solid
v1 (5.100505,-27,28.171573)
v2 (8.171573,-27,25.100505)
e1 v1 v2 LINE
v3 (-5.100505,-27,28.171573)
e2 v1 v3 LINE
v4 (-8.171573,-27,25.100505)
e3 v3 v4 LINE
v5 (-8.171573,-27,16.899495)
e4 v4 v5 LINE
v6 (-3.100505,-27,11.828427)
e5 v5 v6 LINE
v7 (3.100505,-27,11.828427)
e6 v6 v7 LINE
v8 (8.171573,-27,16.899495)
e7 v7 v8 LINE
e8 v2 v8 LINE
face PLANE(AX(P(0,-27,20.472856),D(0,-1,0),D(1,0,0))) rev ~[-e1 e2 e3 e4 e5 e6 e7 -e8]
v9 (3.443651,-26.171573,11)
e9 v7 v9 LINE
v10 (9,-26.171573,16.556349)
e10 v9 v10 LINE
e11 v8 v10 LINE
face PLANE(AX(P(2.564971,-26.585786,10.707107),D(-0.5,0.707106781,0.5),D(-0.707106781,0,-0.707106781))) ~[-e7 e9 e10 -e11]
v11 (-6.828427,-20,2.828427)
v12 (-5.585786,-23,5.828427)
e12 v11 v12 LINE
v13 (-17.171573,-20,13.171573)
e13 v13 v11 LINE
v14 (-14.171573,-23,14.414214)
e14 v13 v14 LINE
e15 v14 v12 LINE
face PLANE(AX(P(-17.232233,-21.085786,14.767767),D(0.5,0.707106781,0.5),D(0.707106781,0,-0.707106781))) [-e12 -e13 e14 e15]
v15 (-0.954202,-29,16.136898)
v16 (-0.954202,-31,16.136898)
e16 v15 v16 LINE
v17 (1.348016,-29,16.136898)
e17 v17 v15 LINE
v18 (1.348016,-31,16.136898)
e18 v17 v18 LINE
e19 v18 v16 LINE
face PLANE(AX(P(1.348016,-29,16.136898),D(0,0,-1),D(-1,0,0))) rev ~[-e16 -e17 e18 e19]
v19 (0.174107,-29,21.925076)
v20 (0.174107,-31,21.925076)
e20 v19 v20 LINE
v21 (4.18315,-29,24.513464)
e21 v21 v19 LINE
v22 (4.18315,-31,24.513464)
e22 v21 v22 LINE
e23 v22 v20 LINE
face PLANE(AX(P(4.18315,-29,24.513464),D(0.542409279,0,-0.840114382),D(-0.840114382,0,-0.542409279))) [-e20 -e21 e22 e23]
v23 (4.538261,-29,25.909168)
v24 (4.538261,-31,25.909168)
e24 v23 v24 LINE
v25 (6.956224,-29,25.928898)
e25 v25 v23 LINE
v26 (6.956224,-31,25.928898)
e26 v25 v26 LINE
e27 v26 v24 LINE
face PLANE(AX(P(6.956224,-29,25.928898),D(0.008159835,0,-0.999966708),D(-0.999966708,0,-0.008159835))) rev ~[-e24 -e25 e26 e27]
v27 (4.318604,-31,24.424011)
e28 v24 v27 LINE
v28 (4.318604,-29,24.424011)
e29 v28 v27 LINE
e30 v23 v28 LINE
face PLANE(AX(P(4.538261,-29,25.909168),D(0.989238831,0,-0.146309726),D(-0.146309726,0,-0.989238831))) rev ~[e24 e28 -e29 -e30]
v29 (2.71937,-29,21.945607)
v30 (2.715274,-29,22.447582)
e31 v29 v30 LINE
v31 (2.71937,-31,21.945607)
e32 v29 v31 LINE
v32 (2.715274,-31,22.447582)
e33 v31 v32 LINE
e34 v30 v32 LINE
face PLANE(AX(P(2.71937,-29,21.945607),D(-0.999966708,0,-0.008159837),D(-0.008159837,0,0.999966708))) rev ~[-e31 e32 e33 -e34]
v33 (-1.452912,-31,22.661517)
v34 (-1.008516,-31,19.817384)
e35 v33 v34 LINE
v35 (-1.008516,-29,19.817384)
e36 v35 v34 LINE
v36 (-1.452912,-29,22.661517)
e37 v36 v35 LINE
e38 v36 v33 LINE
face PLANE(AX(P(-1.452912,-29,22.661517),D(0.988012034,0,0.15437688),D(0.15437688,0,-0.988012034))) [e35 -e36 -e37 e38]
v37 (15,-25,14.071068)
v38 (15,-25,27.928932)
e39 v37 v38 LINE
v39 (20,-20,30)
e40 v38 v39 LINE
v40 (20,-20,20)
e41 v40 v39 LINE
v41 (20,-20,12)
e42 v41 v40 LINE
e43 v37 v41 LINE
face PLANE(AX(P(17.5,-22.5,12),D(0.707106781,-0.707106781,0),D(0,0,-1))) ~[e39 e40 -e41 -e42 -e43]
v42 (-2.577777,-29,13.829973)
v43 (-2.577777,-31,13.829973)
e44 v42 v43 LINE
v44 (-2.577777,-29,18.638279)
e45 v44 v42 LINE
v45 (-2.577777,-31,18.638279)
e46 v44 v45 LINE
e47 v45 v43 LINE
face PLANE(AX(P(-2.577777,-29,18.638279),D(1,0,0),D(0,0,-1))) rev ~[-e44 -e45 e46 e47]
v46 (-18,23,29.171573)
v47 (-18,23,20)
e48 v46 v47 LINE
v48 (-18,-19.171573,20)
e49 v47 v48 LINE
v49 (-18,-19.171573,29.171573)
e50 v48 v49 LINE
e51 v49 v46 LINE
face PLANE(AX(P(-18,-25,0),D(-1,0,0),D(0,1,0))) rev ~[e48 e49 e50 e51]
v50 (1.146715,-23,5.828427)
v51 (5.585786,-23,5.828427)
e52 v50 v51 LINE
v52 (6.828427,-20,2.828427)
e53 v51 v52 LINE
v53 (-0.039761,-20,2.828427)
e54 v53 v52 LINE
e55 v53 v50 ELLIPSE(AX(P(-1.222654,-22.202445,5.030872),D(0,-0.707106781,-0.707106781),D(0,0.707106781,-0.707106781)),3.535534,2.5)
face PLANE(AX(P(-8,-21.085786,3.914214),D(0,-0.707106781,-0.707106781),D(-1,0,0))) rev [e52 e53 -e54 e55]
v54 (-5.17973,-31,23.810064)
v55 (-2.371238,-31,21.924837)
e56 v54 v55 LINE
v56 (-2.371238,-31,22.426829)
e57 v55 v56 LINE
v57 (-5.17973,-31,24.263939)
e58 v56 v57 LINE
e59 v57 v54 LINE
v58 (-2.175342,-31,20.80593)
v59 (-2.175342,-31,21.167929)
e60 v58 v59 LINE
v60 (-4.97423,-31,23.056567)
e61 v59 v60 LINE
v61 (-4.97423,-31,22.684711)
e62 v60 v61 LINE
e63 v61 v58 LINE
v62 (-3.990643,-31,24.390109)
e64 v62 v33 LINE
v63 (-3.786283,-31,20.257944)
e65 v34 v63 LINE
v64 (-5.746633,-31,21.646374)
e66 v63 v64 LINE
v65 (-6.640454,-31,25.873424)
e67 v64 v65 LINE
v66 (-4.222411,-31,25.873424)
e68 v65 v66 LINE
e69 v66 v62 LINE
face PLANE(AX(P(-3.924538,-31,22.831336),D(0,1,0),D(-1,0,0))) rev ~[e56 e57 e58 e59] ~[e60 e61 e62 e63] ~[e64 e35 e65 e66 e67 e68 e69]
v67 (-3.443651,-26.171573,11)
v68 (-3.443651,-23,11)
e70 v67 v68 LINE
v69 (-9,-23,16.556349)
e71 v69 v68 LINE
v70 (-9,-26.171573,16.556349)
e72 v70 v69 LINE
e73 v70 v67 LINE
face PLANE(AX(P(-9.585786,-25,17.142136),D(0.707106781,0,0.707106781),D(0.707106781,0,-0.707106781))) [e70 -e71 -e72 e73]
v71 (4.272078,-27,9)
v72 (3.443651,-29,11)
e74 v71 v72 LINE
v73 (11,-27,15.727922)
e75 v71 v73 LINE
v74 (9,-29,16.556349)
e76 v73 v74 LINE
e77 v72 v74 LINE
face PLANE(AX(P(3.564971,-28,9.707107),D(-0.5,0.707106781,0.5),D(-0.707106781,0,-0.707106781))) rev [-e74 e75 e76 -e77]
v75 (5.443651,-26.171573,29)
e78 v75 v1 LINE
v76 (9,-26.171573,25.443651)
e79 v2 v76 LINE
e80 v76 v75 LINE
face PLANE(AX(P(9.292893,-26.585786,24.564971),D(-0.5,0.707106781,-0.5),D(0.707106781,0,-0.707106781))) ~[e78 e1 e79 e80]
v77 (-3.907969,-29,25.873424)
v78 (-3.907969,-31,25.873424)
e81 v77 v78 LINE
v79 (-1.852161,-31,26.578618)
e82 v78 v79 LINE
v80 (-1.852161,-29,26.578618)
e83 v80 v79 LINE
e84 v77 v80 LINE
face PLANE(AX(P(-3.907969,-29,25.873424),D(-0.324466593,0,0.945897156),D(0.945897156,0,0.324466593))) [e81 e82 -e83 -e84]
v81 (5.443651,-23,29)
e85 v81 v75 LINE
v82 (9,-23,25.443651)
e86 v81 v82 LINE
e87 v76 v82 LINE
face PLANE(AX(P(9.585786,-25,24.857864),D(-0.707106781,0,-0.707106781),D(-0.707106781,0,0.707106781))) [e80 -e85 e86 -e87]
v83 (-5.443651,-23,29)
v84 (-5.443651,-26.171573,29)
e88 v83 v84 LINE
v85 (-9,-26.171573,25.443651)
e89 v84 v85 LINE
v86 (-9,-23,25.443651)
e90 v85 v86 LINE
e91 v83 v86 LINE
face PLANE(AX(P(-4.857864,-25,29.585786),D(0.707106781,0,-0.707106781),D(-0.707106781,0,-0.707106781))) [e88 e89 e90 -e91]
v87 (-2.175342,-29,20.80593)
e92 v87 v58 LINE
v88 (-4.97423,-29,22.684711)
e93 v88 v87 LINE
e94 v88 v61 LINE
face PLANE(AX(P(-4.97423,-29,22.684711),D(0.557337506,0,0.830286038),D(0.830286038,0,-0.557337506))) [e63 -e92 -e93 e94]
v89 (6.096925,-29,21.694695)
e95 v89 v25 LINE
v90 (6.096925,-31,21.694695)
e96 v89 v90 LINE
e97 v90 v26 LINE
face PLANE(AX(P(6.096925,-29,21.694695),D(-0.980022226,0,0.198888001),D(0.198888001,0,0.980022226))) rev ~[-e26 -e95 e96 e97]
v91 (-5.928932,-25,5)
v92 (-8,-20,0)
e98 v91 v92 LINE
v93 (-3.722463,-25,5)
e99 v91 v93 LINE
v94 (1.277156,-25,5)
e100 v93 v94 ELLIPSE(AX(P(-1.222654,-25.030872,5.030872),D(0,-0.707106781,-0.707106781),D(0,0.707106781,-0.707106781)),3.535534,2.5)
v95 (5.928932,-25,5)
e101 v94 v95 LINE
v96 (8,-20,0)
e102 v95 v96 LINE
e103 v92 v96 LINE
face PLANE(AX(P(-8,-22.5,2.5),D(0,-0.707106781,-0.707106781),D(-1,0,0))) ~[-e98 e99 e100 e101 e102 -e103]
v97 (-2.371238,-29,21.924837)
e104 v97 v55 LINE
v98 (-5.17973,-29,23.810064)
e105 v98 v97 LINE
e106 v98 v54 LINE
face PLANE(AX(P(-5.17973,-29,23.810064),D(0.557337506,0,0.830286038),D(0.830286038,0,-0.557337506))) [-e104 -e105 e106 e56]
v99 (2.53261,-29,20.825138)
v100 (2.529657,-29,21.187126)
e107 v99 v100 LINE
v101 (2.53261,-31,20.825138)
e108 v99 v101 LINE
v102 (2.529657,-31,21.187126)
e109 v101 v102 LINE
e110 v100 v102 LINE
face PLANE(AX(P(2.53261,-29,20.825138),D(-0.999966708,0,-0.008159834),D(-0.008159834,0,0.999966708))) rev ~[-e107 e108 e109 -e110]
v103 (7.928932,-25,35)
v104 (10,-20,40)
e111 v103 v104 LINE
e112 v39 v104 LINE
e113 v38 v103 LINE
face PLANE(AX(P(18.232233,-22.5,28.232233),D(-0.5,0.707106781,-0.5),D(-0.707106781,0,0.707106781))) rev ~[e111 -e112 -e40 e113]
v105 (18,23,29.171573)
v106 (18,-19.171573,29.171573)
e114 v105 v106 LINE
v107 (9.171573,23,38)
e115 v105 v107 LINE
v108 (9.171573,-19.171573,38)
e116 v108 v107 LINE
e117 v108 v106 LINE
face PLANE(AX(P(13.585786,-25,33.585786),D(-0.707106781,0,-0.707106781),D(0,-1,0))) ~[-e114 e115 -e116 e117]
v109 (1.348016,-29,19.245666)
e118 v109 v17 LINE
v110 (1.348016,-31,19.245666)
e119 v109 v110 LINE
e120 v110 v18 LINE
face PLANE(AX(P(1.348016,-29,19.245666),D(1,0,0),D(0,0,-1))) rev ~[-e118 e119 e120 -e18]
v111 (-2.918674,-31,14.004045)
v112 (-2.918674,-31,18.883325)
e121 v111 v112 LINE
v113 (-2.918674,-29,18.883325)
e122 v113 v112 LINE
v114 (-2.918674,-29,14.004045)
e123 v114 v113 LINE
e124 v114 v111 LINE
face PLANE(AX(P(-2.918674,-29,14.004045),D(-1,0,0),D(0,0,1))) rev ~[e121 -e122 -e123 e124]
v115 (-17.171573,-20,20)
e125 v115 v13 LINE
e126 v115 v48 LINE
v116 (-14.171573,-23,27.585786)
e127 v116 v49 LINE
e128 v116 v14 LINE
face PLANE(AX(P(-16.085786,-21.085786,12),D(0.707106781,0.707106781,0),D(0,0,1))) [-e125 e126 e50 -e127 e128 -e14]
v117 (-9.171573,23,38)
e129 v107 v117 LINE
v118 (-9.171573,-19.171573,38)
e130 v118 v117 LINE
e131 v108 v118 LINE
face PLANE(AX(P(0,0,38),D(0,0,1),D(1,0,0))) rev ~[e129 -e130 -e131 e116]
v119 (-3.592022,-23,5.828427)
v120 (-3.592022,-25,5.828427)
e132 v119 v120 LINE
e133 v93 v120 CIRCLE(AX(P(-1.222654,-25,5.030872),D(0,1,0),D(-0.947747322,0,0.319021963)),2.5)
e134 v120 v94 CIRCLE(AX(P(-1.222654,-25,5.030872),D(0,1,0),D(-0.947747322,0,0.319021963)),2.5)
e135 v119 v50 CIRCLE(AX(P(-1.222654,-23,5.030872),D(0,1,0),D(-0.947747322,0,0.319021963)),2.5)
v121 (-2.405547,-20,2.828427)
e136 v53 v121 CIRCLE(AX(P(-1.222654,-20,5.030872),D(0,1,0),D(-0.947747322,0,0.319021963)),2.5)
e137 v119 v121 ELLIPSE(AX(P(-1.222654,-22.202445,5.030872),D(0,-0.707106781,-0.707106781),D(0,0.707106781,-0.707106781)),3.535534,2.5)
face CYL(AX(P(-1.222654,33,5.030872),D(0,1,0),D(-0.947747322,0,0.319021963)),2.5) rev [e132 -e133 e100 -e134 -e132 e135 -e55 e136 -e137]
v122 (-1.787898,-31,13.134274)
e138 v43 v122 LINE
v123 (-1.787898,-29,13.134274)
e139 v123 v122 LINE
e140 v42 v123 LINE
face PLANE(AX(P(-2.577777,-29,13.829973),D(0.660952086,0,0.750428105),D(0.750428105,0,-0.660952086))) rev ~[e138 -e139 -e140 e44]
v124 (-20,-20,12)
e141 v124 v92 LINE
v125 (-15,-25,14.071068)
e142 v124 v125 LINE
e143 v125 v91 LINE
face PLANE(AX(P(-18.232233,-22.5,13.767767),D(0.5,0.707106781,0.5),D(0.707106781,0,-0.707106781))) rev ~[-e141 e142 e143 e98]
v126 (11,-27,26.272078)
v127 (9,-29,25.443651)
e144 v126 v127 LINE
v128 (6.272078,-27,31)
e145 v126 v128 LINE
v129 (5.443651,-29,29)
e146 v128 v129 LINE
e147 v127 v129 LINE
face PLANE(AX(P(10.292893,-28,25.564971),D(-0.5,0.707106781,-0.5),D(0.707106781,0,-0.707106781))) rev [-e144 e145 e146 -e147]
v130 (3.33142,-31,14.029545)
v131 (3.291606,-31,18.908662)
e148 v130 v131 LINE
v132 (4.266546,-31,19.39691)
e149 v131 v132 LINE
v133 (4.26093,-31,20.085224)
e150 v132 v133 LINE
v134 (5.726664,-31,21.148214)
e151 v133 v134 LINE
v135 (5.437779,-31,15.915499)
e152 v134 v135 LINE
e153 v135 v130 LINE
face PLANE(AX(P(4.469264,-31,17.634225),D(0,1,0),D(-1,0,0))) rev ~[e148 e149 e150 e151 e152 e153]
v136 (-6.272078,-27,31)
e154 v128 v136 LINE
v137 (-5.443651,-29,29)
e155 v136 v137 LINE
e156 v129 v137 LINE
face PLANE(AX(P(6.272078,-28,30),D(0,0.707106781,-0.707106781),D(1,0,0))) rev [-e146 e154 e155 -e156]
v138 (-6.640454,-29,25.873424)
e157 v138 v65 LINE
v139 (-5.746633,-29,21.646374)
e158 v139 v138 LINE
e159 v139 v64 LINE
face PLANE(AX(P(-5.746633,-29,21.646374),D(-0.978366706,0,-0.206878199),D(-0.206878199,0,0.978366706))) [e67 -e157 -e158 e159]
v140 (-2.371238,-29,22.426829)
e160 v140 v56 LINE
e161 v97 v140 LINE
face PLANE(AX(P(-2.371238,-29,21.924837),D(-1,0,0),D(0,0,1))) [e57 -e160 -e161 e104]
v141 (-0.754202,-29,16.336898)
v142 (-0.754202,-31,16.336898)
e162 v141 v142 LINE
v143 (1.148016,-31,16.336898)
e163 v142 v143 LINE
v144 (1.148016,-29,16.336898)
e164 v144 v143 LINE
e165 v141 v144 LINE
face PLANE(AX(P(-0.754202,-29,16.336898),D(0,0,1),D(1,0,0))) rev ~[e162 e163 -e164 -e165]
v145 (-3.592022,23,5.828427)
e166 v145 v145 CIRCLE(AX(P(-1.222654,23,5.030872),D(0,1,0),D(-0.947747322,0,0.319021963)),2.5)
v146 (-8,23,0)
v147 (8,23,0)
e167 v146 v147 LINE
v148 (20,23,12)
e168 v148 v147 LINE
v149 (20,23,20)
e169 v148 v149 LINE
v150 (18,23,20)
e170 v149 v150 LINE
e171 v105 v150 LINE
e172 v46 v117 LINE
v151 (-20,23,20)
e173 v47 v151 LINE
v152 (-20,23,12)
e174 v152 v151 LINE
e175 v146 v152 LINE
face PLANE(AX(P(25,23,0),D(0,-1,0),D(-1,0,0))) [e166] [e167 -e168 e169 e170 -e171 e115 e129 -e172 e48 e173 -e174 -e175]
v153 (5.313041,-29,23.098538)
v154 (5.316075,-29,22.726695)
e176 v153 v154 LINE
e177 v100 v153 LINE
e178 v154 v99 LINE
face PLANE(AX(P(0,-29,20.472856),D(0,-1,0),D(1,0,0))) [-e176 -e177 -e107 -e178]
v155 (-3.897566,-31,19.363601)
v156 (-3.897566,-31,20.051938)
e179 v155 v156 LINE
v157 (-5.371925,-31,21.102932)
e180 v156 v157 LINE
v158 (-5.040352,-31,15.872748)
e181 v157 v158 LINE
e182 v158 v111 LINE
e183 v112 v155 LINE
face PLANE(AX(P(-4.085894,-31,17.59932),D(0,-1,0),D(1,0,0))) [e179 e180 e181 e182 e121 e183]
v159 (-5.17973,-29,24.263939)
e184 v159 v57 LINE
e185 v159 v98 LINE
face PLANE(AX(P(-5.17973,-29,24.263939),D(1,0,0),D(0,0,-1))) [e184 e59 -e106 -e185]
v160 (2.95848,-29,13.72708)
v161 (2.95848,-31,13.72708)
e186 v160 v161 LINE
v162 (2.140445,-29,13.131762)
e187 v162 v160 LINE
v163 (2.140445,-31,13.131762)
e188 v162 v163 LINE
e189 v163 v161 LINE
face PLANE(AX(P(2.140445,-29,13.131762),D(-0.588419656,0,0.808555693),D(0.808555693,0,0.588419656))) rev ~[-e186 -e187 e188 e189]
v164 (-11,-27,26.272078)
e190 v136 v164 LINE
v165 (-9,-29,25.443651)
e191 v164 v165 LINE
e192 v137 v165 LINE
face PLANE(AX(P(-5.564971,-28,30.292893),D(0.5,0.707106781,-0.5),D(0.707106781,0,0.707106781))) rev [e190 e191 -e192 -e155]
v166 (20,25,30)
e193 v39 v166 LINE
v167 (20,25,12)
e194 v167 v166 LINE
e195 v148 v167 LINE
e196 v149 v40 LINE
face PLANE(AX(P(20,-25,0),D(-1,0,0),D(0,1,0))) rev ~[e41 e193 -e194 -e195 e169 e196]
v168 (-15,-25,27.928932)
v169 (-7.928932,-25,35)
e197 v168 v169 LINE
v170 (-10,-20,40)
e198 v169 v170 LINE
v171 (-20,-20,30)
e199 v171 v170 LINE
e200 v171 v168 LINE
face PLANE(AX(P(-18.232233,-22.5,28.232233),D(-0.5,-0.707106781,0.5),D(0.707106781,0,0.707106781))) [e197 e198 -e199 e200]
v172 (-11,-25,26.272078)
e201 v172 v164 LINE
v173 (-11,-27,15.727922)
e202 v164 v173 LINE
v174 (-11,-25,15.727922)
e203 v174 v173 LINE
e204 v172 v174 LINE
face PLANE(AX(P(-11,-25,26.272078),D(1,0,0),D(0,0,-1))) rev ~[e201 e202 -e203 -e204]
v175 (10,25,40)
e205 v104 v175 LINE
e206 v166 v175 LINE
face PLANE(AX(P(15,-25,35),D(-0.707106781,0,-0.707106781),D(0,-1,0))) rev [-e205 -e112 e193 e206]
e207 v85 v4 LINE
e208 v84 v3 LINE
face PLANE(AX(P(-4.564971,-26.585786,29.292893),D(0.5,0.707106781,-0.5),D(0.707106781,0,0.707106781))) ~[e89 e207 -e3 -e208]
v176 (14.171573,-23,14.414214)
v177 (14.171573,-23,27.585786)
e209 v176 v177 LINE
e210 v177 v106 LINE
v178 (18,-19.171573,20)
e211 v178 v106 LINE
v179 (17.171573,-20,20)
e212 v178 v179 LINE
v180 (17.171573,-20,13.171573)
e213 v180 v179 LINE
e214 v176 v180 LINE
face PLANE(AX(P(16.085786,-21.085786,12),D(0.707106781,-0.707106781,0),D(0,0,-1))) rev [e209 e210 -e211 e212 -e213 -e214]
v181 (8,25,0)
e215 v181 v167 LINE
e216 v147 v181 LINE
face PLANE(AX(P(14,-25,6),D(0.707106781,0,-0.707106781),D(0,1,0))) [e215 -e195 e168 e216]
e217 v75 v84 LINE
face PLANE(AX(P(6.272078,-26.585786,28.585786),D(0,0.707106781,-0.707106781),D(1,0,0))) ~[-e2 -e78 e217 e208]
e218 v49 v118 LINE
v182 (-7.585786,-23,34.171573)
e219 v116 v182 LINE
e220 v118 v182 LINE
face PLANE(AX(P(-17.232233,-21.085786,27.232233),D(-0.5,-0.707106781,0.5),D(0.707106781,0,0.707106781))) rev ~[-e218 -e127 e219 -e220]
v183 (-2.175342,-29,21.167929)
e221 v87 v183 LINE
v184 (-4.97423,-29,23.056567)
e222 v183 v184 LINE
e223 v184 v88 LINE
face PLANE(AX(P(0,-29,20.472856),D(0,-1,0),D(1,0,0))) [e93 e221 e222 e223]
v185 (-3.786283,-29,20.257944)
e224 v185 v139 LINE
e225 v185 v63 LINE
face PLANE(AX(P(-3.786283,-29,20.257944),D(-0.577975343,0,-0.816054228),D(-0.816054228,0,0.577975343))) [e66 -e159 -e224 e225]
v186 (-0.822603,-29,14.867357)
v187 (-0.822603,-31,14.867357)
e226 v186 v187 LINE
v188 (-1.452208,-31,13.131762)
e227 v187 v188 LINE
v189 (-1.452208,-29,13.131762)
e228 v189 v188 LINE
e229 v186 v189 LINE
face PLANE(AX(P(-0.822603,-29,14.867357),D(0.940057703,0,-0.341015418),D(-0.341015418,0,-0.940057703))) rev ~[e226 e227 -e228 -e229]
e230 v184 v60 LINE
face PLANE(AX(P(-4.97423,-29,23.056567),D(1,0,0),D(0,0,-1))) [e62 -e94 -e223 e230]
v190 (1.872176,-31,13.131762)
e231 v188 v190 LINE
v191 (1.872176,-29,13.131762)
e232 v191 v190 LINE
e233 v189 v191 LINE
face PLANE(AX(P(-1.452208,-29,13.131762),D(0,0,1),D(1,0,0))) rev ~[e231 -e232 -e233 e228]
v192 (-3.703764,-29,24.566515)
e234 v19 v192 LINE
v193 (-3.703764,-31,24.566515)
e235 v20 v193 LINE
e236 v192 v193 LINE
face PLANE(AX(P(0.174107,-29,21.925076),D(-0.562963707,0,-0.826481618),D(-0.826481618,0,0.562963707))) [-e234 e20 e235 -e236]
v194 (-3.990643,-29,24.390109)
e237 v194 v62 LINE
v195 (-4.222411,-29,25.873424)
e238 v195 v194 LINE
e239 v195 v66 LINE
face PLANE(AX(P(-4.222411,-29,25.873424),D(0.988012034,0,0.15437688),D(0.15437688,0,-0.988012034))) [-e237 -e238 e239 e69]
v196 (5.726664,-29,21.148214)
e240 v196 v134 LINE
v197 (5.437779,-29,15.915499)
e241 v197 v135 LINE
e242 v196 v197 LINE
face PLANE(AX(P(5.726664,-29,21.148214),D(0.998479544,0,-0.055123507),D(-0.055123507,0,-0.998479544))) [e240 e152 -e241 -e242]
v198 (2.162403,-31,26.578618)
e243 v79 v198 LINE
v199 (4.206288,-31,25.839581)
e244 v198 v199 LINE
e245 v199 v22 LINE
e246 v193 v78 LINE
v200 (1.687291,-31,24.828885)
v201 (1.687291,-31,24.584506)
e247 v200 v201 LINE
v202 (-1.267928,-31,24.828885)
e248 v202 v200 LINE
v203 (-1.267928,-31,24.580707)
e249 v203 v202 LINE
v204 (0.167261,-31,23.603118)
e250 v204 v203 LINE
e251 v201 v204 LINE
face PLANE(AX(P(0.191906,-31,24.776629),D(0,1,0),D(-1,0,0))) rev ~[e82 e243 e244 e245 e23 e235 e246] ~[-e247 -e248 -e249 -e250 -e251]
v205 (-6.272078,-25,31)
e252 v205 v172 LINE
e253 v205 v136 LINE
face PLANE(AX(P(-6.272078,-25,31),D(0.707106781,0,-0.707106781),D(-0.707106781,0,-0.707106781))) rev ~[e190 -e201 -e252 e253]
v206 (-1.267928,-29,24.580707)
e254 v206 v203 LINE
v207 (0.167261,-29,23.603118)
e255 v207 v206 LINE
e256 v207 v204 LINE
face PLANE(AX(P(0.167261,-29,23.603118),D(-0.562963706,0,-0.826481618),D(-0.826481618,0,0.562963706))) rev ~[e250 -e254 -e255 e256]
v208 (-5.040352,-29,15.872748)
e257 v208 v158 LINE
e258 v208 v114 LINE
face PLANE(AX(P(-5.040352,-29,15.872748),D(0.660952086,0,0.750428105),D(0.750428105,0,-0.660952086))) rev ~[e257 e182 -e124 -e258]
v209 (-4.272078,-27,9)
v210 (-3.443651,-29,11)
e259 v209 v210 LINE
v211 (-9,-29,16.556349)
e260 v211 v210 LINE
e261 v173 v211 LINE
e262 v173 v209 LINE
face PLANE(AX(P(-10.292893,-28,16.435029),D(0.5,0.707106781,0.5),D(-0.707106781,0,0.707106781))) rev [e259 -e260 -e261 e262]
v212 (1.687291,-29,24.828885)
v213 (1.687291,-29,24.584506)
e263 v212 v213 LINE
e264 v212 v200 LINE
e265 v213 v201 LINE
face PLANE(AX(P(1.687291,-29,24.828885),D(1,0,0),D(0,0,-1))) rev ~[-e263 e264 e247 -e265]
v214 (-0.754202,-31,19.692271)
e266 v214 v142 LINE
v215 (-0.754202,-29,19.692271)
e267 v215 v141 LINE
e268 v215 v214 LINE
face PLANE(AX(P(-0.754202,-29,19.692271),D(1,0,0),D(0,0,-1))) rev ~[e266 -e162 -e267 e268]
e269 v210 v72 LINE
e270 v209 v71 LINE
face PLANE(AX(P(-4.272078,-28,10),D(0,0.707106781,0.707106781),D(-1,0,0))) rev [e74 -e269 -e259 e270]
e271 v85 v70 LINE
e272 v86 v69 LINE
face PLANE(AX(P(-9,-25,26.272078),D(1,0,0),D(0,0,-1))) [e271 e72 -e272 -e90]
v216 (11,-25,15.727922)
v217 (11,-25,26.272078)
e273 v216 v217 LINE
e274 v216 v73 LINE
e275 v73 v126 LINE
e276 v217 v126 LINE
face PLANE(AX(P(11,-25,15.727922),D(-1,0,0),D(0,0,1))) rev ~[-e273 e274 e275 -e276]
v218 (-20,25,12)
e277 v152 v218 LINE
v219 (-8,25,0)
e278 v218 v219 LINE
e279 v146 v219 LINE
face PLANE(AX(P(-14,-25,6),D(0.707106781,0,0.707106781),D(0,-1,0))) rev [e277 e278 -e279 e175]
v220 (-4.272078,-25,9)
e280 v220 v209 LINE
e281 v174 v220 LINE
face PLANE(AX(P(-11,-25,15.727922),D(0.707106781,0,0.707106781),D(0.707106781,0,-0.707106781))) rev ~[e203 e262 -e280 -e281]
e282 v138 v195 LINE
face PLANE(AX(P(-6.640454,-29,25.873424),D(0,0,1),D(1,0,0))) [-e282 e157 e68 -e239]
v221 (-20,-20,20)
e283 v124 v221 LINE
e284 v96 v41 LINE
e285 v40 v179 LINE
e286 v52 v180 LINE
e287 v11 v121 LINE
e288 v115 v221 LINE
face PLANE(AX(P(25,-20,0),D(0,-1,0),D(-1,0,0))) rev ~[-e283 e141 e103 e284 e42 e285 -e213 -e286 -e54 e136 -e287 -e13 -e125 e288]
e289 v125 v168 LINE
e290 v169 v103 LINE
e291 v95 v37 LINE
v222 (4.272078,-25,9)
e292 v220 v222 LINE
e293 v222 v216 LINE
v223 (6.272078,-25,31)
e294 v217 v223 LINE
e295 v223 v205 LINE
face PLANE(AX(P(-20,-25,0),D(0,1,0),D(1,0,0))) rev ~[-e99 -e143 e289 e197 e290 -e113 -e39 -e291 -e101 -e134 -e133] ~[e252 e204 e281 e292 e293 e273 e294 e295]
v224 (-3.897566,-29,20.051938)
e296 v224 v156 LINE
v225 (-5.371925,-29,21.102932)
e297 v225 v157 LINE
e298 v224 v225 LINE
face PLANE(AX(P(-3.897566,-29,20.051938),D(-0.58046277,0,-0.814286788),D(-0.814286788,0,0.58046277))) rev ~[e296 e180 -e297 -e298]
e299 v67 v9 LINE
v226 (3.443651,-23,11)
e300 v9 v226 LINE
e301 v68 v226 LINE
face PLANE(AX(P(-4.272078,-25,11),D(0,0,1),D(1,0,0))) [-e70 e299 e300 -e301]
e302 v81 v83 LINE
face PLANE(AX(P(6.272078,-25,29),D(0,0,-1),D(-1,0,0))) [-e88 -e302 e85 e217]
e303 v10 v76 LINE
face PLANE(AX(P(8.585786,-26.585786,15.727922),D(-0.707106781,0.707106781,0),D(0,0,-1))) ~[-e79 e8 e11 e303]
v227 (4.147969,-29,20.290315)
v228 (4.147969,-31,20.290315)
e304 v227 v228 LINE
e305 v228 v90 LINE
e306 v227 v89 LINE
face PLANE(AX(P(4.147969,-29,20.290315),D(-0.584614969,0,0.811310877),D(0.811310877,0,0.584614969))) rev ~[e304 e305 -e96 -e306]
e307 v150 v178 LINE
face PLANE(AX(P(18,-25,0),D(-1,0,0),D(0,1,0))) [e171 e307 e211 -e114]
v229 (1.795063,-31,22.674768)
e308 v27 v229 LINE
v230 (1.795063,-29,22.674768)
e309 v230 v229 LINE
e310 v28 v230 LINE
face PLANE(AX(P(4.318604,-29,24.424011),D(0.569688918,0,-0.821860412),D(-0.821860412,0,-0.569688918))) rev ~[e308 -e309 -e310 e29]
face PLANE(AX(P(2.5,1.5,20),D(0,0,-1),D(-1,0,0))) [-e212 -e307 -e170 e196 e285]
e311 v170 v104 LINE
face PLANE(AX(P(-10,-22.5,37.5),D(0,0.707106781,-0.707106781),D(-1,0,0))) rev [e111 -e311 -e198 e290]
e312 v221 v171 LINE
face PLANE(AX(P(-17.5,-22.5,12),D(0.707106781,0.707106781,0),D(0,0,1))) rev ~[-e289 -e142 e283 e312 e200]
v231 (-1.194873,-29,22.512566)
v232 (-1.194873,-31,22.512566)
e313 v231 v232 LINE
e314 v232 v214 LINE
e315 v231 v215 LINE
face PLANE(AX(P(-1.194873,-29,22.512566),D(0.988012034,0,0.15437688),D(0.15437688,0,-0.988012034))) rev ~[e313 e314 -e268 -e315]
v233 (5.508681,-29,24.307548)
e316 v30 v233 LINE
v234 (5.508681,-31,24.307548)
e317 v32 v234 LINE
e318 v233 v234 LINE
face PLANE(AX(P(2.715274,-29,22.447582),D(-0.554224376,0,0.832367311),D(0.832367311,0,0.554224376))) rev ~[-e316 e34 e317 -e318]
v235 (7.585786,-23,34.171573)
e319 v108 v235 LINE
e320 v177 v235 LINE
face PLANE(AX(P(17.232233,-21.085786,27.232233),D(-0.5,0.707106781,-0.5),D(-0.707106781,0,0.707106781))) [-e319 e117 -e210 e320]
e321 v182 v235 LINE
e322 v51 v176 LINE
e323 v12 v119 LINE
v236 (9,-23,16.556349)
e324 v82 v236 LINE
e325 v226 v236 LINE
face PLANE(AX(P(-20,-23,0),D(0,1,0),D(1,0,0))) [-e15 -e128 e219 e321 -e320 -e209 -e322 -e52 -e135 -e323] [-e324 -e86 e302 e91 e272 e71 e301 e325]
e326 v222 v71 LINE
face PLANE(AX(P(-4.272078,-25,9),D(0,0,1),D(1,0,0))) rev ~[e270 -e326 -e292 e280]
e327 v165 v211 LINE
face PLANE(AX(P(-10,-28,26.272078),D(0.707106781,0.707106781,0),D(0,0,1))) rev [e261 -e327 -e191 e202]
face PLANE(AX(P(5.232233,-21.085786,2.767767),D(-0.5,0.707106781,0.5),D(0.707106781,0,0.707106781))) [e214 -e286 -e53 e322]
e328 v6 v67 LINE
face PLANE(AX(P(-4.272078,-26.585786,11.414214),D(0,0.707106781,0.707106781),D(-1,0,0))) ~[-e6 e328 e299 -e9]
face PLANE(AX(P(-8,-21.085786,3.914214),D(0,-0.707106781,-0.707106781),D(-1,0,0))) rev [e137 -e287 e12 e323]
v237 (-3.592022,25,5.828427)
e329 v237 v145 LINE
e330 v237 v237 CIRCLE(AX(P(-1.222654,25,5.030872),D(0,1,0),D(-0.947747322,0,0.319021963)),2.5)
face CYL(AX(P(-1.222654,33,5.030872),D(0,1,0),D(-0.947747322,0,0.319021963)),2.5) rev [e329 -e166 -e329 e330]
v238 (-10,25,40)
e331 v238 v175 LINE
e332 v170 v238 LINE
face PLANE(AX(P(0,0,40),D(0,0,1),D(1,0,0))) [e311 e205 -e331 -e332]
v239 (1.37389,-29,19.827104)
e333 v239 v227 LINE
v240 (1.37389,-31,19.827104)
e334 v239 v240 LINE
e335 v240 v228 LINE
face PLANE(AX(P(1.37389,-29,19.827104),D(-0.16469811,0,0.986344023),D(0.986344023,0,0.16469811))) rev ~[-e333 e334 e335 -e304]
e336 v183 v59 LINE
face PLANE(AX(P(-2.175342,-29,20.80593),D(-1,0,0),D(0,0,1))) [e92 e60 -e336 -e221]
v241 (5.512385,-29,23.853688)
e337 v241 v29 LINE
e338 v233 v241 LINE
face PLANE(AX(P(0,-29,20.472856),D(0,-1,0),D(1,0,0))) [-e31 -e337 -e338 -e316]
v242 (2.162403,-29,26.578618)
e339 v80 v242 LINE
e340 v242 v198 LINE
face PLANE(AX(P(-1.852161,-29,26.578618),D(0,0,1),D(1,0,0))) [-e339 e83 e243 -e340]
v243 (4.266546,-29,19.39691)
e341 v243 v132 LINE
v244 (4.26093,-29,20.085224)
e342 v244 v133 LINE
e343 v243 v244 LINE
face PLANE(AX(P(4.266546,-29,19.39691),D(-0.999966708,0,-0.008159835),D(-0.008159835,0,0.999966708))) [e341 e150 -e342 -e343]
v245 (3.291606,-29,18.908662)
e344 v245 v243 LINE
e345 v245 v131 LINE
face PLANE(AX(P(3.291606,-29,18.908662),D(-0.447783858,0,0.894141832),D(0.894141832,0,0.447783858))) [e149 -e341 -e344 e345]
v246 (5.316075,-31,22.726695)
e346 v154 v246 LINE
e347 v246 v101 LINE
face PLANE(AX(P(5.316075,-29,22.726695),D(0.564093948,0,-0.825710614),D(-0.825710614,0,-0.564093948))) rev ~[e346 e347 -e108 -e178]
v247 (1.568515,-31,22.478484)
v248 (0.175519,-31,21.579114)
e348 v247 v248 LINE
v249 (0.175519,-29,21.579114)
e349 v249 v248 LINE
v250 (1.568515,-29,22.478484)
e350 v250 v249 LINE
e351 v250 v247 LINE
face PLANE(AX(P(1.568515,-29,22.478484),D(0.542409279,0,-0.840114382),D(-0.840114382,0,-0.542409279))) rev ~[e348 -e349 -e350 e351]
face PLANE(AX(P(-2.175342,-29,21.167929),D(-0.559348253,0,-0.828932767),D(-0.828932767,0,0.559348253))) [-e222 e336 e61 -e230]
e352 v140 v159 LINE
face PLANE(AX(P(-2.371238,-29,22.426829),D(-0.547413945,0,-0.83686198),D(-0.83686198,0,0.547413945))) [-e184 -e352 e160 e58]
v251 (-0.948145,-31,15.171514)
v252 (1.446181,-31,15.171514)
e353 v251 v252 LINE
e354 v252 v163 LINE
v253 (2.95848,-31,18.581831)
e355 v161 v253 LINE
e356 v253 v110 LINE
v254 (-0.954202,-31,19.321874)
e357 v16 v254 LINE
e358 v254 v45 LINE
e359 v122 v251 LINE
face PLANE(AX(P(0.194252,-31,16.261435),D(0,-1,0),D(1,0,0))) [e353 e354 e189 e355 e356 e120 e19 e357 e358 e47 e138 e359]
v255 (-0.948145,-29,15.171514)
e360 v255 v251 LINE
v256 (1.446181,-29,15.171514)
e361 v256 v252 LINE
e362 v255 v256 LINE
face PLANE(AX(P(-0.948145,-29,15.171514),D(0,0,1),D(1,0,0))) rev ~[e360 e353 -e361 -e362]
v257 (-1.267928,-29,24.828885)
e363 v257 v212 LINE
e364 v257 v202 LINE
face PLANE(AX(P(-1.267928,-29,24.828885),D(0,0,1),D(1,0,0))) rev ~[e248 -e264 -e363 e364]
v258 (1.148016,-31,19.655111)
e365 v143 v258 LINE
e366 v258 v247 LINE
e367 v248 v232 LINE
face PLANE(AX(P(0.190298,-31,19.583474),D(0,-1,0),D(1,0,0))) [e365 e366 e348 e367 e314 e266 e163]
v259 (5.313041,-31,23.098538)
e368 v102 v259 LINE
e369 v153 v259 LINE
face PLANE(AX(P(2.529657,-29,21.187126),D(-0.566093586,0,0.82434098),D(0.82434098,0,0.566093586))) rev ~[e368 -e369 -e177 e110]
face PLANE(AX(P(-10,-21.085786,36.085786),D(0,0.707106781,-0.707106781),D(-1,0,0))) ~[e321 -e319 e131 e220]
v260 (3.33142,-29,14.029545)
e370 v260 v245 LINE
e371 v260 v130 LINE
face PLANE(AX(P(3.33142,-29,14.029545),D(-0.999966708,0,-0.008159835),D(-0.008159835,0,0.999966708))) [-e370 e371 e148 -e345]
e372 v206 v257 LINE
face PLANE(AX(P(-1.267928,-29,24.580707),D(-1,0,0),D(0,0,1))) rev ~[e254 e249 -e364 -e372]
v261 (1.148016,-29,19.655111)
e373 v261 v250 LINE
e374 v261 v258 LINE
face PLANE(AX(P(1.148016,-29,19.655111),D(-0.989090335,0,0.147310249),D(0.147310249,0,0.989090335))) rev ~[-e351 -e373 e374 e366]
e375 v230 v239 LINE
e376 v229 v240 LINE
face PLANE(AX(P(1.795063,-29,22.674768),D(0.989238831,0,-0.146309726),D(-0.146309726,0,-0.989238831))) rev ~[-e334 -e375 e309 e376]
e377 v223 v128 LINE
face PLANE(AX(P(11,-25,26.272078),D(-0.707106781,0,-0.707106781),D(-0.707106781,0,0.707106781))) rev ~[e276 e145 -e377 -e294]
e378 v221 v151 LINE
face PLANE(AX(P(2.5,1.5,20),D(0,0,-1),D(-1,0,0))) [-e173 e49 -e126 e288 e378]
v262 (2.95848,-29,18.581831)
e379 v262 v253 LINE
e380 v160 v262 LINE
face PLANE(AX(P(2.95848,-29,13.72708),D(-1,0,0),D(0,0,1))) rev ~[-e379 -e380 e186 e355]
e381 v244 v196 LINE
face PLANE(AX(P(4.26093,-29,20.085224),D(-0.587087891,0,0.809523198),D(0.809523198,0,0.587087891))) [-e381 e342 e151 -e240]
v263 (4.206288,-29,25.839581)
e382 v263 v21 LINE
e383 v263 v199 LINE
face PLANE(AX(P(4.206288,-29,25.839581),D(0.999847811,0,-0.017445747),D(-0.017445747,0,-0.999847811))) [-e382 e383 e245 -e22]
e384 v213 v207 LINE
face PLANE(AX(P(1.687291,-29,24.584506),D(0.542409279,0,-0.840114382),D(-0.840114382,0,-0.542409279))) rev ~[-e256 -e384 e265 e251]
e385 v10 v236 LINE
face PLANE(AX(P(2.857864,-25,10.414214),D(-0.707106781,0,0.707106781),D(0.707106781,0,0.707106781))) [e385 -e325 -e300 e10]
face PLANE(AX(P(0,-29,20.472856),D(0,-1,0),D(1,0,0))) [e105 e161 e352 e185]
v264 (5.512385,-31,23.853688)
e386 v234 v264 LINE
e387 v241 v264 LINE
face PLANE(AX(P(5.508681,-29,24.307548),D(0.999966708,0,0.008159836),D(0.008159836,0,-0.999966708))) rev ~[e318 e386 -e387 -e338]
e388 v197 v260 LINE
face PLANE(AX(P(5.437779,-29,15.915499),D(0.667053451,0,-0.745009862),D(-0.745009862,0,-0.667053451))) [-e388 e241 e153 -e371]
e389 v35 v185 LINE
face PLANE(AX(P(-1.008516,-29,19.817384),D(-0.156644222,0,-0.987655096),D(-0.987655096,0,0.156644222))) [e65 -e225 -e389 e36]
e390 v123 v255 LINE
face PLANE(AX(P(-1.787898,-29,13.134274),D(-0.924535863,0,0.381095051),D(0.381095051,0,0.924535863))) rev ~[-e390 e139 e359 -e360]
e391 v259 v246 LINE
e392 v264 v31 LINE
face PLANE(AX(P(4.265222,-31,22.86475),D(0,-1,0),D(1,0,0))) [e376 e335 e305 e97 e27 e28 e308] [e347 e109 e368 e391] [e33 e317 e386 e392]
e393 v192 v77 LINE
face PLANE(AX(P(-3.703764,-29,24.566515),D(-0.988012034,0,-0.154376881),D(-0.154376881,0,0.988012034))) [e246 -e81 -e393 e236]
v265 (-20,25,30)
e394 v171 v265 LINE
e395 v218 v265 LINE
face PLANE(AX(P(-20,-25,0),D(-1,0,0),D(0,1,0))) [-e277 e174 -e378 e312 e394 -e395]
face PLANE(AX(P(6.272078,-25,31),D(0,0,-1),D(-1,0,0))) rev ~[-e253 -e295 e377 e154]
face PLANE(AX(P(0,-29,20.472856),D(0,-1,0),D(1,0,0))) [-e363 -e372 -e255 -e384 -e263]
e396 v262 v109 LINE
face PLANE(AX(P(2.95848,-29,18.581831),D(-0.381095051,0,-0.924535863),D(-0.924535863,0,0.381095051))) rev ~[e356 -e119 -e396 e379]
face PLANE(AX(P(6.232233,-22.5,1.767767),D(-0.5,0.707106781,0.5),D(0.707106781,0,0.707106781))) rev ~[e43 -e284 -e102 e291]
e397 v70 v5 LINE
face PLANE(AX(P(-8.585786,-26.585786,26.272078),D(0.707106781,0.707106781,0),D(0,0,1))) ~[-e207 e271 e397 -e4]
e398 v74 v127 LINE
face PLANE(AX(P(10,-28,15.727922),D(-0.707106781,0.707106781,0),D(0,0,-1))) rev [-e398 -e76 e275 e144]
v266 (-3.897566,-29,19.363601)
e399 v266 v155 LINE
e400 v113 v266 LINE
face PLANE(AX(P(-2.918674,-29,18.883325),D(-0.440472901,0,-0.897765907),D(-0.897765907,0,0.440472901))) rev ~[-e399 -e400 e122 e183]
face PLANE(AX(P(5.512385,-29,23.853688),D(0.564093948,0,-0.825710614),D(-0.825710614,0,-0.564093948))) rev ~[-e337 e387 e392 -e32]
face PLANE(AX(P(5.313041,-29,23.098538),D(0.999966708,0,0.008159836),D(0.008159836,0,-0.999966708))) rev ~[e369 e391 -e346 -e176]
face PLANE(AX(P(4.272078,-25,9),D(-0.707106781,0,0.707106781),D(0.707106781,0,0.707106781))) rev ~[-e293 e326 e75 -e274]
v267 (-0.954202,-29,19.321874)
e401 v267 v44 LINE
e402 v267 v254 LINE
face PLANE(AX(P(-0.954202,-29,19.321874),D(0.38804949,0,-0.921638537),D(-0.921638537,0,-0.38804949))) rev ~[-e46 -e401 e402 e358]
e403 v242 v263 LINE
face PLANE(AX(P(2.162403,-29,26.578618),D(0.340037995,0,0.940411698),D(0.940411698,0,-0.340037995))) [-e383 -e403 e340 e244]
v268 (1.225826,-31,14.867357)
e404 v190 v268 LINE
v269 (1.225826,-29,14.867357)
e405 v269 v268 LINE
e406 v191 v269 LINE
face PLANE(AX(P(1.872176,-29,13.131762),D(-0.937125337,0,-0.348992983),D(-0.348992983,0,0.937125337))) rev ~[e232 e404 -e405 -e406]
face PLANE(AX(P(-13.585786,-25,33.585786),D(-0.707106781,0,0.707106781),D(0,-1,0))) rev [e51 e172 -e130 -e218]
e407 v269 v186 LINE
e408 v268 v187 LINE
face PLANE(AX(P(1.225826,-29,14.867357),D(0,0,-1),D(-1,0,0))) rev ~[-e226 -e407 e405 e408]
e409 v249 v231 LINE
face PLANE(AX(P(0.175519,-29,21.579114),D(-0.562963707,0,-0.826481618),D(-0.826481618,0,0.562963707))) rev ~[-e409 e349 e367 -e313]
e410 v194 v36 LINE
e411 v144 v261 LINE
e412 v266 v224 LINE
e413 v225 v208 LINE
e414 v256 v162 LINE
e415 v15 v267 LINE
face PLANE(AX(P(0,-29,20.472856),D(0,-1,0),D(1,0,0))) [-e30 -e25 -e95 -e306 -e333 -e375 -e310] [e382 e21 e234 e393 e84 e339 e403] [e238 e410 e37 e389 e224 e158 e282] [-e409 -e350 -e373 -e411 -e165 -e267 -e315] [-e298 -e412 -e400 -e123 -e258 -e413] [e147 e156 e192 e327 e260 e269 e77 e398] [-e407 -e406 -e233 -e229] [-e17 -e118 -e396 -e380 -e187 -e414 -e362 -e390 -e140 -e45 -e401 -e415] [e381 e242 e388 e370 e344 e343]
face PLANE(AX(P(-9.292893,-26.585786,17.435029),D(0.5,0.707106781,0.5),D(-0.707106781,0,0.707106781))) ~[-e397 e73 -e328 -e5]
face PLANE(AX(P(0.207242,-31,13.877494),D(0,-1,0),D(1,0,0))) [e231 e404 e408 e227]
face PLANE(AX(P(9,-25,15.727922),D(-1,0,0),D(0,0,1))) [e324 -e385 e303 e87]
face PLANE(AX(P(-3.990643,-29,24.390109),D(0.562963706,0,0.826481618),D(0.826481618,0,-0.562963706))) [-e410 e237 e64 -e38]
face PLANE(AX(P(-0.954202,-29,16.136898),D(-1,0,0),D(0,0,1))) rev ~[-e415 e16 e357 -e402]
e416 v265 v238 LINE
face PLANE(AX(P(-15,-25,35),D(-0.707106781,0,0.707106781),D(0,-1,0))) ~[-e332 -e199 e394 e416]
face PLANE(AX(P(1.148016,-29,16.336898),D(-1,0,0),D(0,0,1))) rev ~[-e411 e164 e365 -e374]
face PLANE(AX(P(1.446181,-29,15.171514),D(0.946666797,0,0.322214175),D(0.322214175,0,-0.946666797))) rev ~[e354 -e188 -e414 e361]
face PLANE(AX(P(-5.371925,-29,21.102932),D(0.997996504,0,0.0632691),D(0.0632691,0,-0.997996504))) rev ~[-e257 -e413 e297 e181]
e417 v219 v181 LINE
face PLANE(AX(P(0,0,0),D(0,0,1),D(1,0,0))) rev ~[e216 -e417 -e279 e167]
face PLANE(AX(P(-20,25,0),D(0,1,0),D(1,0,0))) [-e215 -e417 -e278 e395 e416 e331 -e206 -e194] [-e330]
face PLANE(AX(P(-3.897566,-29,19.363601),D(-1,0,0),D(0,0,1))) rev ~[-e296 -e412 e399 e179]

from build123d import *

# Parameters (mm, degrees)
SKETCH1_W               = 40
SKETCH1_H               = 50
BOSS_EXTRUDE1_DEPTH     = 40
CHAMFER1_SIZE           = 10
CHAMFER2_SIZE           = 12
CHAMFER4_SIZE           = 5
BOSS_EXTRUDE2_DEPTH     = 4
CHAMFER5_SIZE           = 2
SHELL1_T                = -2
SKETCH3_W               = 45
SKETCH3_H               = 43
CUT_EXTRUDE1_DEPTH      = 20
CUT_EXTRUDE2_DEPTH      = 69.585712798
CUT_EXTRUDE2_DEPTH_BACK = 10
SKETCH4_R               = 2.5
BOSS_EXTRUDE3_DEPTH     = 2


with BuildPart() as part:
    # Sketch1 → Boss-Extrude1 (new body)
    with BuildSketch(Plane.XY):
        Rectangle(SKETCH1_W, SKETCH1_H)
    extrude(amount=BOSS_EXTRUDE1_DEPTH)

    # Chamfer1
    chamfer1_edges = [part.edges().sort_by_distance(p)[0] for p in [
        (-20, 0, 40),
        (20, 0, 40),
    ]]
    chamfer(chamfer1_edges, length=CHAMFER1_SIZE)

    # Chamfer2
    chamfer2_edges = [part.edges().sort_by_distance(p)[0] for p in [
        (-20, 0, 0),
        (20, 0, 0),
    ]]
    chamfer(chamfer2_edges, length=CHAMFER2_SIZE)

    # Chamfer4
    chamfer4_edges = [part.edges().sort_by_distance(p)[0] for p in [
        (0, -25, 40),
        (20, -25, 21),
        (-20, -25, 21),
        (15, -25, 35),
        (-15, -25, 35),
        (0, -25, 0),
        (14, -25, 6),
        (-14, -25, 6),
    ]]
    chamfer(chamfer4_edges, length=CHAMFER4_SIZE)

    # Sketch2 → Boss-Extrude2 (add)
    with BuildSketch(Plane.XZ.offset(25)):
        Polygon((6.272077939, 31), (-6.272077939, 31), (-11, 26.272077939), (-11, 15.727922061), (-4.272077939, 9), (4.272077939, 9), (11, 15.727922061), (11, 26.272077939), align=None)
    extrude(amount=BOSS_EXTRUDE2_DEPTH)

    # Chamfer5
    chamfer5_edges = [part.edges().sort_by_distance(p)[0] for p in [
        (8.636038969, -29, 28.636038969),
        (0, -29, 31),
        (-8.636038969, -29, 28.636038969),
        (-11, -29, 21),
        (-7.636038969, -29, 12.363961031),
        (0, -29, 9),
        (7.636038969, -29, 12.363961031),
        (11, -29, 21),
    ]]
    chamfer(chamfer5_edges, length=CHAMFER5_SIZE)

    # Shell1
    shell1_openings = [part.faces().sort_by_distance(p)[0] for p in [
        (0, 2.5, 0),
    ]]
    offset(amount=SHELL1_T, openings=shell1_openings, kind=Kind.INTERSECTION)

    # Sketch3 → Cut-Extrude1 (cut)
    with BuildSketch(Plane(origin=(0, 0, 0), x_dir=(-1, 0, 0), z_dir=(0, 0, -1))):
        with Locations((-2.5, 1.5)):
            Rectangle(SKETCH3_W, SKETCH3_H)
    extrude(amount=-CUT_EXTRUDE1_DEPTH, mode=Mode.SUBTRACT)

    # Sketch4 → Cut-Extrude2 (cut, two sides: drawn at the far end of the back side and taken through both)
    with BuildSketch(Plane.XZ.offset(-23).offset(-CUT_EXTRUDE2_DEPTH_BACK)):
        with Locations(Location((-1.222653688, 5.030872217, 0), (0, 0, 161.396212333))):
            Circle(SKETCH4_R)
    extrude(amount=CUT_EXTRUDE2_DEPTH + CUT_EXTRUDE2_DEPTH_BACK, mode=Mode.SUBTRACT)

    # Sketch5 → Boss-Extrude3 (add)
    # profile 1 of 8: a face of its own
    with BuildSketch(Plane.XZ.offset(29)):
        Polygon((-3.907968564, 25.873424225), (-1.8521612, 26.578618027), (2.162403013, 26.578618027), (4.206288315, 25.839581431), (4.183149683, 24.513463944), (0.17410729, 21.92507617), (-3.70376403, 24.56651521), align=None)
        Polygon((-1.267927635, 24.828885337), (1.687291293, 24.828885337), (1.687291293, 24.58450637), (0.167260904, 23.603117877), (-1.267927635, 24.580706539), align=None, mode=Mode.SUBTRACT)
    # profile 2 of 8: a face of its own
    with BuildSketch(Plane.XZ.offset(29)):
        Polygon((-6.640454007, 25.873424225), (-4.222410504, 25.873424225), (-3.990642578, 24.390109498), (-1.452911939, 22.661516611), (-1.008516208, 19.817383934), (-3.786282946, 20.257943712), (-5.746633086, 21.646373557), align=None)
        Polygon((-5.179729537, 24.26393897), (-5.179729537, 23.810064286), (-2.37123808, 21.924837325), (-2.37123808, 22.426829117), align=None, mode=Mode.SUBTRACT)
        Polygon((-4.974230162, 23.056566578), (-4.974230162, 22.684710567), (-2.175342033, 20.805929932), (-2.175342033, 21.167929466), align=None, mode=Mode.SUBTRACT)
    # profile 3 of 8: a face of its own
    with BuildSketch(Plane.XZ.offset(29)):
        Polygon((0.175518811, 21.579113739), (-1.194872838, 22.512565549), (-0.754201781, 19.692270785), (-0.754201781, 16.336897736), (1.148015733, 16.336897736), (1.148015733, 19.6551114), (1.568514987, 22.478484191), align=None)
    # profile 4 of 8: a face of its own
    with BuildSketch(Plane.XZ.offset(29)):
        Polygon((-5.371925401, 21.102931741), (-5.040352094, 15.872748244), (-2.918674263, 14.004045062), (-2.918674263, 18.883324606), (-3.897566255, 19.36360058), (-3.897566255, 20.051937661), align=None)
    # profile 5 of 8: a face of its own
    with BuildSketch(Plane.XZ.offset(29)):
        Polygon((-2.57777667, 18.638279212), (-2.57777667, 13.829972979), (-1.787898039, 13.134274183), (-0.948144856, 15.171513794), (1.44618133, 15.171513794), (2.140445472, 13.131762403), (2.958479742, 13.727080014), (2.958479742, 18.581830676), (1.348015733, 19.245666323), (1.348015733, 16.136897736), (-0.954201781, 16.136897736), (-0.954201781, 19.321874117), align=None)
    # profile 6 of 8: a face of its own
    with BuildSketch(Plane.XZ.offset(29)):
        Polygon((-1.452207759, 13.131762403), (1.872175521, 13.131762403), (1.225826325, 14.867356635), (-0.822603437, 14.867356635), align=None)
    # profile 7 of 8: a face of its own
    with BuildSketch(Plane.XZ.offset(29)):
        Polygon((4.147969201, 20.290315345), (6.096924719, 21.694695099), (6.956223847, 25.928898472), (4.538260846, 25.909167636), (4.318604239, 24.424011104), (1.795063119, 22.674768301), (1.373889836, 19.827104116), align=None)
        Polygon((2.719369869, 21.945606931), (2.715273698, 22.447582011), (5.508681142, 24.307547529), (5.512384685, 23.853687956), align=None, mode=Mode.SUBTRACT)
        Polygon((2.532610443, 20.825138309), (2.529656587, 21.187125792), (5.313040568, 23.098538493), (5.316074852, 22.726694861), align=None, mode=Mode.SUBTRACT)
    # profile 8 of 8: a face of its own
    with BuildSketch(Plane.XZ.offset(29)):
        Polygon((4.266546498, 19.396910041), (4.260929781, 20.085224205), (5.726663904, 21.148213823), (5.43777907, 15.915498866), (3.331420184, 14.029545356), (3.291606068, 18.908662459), align=None)
    extrude(amount=BOSS_EXTRUDE3_DEPTH)


solid = part.part
